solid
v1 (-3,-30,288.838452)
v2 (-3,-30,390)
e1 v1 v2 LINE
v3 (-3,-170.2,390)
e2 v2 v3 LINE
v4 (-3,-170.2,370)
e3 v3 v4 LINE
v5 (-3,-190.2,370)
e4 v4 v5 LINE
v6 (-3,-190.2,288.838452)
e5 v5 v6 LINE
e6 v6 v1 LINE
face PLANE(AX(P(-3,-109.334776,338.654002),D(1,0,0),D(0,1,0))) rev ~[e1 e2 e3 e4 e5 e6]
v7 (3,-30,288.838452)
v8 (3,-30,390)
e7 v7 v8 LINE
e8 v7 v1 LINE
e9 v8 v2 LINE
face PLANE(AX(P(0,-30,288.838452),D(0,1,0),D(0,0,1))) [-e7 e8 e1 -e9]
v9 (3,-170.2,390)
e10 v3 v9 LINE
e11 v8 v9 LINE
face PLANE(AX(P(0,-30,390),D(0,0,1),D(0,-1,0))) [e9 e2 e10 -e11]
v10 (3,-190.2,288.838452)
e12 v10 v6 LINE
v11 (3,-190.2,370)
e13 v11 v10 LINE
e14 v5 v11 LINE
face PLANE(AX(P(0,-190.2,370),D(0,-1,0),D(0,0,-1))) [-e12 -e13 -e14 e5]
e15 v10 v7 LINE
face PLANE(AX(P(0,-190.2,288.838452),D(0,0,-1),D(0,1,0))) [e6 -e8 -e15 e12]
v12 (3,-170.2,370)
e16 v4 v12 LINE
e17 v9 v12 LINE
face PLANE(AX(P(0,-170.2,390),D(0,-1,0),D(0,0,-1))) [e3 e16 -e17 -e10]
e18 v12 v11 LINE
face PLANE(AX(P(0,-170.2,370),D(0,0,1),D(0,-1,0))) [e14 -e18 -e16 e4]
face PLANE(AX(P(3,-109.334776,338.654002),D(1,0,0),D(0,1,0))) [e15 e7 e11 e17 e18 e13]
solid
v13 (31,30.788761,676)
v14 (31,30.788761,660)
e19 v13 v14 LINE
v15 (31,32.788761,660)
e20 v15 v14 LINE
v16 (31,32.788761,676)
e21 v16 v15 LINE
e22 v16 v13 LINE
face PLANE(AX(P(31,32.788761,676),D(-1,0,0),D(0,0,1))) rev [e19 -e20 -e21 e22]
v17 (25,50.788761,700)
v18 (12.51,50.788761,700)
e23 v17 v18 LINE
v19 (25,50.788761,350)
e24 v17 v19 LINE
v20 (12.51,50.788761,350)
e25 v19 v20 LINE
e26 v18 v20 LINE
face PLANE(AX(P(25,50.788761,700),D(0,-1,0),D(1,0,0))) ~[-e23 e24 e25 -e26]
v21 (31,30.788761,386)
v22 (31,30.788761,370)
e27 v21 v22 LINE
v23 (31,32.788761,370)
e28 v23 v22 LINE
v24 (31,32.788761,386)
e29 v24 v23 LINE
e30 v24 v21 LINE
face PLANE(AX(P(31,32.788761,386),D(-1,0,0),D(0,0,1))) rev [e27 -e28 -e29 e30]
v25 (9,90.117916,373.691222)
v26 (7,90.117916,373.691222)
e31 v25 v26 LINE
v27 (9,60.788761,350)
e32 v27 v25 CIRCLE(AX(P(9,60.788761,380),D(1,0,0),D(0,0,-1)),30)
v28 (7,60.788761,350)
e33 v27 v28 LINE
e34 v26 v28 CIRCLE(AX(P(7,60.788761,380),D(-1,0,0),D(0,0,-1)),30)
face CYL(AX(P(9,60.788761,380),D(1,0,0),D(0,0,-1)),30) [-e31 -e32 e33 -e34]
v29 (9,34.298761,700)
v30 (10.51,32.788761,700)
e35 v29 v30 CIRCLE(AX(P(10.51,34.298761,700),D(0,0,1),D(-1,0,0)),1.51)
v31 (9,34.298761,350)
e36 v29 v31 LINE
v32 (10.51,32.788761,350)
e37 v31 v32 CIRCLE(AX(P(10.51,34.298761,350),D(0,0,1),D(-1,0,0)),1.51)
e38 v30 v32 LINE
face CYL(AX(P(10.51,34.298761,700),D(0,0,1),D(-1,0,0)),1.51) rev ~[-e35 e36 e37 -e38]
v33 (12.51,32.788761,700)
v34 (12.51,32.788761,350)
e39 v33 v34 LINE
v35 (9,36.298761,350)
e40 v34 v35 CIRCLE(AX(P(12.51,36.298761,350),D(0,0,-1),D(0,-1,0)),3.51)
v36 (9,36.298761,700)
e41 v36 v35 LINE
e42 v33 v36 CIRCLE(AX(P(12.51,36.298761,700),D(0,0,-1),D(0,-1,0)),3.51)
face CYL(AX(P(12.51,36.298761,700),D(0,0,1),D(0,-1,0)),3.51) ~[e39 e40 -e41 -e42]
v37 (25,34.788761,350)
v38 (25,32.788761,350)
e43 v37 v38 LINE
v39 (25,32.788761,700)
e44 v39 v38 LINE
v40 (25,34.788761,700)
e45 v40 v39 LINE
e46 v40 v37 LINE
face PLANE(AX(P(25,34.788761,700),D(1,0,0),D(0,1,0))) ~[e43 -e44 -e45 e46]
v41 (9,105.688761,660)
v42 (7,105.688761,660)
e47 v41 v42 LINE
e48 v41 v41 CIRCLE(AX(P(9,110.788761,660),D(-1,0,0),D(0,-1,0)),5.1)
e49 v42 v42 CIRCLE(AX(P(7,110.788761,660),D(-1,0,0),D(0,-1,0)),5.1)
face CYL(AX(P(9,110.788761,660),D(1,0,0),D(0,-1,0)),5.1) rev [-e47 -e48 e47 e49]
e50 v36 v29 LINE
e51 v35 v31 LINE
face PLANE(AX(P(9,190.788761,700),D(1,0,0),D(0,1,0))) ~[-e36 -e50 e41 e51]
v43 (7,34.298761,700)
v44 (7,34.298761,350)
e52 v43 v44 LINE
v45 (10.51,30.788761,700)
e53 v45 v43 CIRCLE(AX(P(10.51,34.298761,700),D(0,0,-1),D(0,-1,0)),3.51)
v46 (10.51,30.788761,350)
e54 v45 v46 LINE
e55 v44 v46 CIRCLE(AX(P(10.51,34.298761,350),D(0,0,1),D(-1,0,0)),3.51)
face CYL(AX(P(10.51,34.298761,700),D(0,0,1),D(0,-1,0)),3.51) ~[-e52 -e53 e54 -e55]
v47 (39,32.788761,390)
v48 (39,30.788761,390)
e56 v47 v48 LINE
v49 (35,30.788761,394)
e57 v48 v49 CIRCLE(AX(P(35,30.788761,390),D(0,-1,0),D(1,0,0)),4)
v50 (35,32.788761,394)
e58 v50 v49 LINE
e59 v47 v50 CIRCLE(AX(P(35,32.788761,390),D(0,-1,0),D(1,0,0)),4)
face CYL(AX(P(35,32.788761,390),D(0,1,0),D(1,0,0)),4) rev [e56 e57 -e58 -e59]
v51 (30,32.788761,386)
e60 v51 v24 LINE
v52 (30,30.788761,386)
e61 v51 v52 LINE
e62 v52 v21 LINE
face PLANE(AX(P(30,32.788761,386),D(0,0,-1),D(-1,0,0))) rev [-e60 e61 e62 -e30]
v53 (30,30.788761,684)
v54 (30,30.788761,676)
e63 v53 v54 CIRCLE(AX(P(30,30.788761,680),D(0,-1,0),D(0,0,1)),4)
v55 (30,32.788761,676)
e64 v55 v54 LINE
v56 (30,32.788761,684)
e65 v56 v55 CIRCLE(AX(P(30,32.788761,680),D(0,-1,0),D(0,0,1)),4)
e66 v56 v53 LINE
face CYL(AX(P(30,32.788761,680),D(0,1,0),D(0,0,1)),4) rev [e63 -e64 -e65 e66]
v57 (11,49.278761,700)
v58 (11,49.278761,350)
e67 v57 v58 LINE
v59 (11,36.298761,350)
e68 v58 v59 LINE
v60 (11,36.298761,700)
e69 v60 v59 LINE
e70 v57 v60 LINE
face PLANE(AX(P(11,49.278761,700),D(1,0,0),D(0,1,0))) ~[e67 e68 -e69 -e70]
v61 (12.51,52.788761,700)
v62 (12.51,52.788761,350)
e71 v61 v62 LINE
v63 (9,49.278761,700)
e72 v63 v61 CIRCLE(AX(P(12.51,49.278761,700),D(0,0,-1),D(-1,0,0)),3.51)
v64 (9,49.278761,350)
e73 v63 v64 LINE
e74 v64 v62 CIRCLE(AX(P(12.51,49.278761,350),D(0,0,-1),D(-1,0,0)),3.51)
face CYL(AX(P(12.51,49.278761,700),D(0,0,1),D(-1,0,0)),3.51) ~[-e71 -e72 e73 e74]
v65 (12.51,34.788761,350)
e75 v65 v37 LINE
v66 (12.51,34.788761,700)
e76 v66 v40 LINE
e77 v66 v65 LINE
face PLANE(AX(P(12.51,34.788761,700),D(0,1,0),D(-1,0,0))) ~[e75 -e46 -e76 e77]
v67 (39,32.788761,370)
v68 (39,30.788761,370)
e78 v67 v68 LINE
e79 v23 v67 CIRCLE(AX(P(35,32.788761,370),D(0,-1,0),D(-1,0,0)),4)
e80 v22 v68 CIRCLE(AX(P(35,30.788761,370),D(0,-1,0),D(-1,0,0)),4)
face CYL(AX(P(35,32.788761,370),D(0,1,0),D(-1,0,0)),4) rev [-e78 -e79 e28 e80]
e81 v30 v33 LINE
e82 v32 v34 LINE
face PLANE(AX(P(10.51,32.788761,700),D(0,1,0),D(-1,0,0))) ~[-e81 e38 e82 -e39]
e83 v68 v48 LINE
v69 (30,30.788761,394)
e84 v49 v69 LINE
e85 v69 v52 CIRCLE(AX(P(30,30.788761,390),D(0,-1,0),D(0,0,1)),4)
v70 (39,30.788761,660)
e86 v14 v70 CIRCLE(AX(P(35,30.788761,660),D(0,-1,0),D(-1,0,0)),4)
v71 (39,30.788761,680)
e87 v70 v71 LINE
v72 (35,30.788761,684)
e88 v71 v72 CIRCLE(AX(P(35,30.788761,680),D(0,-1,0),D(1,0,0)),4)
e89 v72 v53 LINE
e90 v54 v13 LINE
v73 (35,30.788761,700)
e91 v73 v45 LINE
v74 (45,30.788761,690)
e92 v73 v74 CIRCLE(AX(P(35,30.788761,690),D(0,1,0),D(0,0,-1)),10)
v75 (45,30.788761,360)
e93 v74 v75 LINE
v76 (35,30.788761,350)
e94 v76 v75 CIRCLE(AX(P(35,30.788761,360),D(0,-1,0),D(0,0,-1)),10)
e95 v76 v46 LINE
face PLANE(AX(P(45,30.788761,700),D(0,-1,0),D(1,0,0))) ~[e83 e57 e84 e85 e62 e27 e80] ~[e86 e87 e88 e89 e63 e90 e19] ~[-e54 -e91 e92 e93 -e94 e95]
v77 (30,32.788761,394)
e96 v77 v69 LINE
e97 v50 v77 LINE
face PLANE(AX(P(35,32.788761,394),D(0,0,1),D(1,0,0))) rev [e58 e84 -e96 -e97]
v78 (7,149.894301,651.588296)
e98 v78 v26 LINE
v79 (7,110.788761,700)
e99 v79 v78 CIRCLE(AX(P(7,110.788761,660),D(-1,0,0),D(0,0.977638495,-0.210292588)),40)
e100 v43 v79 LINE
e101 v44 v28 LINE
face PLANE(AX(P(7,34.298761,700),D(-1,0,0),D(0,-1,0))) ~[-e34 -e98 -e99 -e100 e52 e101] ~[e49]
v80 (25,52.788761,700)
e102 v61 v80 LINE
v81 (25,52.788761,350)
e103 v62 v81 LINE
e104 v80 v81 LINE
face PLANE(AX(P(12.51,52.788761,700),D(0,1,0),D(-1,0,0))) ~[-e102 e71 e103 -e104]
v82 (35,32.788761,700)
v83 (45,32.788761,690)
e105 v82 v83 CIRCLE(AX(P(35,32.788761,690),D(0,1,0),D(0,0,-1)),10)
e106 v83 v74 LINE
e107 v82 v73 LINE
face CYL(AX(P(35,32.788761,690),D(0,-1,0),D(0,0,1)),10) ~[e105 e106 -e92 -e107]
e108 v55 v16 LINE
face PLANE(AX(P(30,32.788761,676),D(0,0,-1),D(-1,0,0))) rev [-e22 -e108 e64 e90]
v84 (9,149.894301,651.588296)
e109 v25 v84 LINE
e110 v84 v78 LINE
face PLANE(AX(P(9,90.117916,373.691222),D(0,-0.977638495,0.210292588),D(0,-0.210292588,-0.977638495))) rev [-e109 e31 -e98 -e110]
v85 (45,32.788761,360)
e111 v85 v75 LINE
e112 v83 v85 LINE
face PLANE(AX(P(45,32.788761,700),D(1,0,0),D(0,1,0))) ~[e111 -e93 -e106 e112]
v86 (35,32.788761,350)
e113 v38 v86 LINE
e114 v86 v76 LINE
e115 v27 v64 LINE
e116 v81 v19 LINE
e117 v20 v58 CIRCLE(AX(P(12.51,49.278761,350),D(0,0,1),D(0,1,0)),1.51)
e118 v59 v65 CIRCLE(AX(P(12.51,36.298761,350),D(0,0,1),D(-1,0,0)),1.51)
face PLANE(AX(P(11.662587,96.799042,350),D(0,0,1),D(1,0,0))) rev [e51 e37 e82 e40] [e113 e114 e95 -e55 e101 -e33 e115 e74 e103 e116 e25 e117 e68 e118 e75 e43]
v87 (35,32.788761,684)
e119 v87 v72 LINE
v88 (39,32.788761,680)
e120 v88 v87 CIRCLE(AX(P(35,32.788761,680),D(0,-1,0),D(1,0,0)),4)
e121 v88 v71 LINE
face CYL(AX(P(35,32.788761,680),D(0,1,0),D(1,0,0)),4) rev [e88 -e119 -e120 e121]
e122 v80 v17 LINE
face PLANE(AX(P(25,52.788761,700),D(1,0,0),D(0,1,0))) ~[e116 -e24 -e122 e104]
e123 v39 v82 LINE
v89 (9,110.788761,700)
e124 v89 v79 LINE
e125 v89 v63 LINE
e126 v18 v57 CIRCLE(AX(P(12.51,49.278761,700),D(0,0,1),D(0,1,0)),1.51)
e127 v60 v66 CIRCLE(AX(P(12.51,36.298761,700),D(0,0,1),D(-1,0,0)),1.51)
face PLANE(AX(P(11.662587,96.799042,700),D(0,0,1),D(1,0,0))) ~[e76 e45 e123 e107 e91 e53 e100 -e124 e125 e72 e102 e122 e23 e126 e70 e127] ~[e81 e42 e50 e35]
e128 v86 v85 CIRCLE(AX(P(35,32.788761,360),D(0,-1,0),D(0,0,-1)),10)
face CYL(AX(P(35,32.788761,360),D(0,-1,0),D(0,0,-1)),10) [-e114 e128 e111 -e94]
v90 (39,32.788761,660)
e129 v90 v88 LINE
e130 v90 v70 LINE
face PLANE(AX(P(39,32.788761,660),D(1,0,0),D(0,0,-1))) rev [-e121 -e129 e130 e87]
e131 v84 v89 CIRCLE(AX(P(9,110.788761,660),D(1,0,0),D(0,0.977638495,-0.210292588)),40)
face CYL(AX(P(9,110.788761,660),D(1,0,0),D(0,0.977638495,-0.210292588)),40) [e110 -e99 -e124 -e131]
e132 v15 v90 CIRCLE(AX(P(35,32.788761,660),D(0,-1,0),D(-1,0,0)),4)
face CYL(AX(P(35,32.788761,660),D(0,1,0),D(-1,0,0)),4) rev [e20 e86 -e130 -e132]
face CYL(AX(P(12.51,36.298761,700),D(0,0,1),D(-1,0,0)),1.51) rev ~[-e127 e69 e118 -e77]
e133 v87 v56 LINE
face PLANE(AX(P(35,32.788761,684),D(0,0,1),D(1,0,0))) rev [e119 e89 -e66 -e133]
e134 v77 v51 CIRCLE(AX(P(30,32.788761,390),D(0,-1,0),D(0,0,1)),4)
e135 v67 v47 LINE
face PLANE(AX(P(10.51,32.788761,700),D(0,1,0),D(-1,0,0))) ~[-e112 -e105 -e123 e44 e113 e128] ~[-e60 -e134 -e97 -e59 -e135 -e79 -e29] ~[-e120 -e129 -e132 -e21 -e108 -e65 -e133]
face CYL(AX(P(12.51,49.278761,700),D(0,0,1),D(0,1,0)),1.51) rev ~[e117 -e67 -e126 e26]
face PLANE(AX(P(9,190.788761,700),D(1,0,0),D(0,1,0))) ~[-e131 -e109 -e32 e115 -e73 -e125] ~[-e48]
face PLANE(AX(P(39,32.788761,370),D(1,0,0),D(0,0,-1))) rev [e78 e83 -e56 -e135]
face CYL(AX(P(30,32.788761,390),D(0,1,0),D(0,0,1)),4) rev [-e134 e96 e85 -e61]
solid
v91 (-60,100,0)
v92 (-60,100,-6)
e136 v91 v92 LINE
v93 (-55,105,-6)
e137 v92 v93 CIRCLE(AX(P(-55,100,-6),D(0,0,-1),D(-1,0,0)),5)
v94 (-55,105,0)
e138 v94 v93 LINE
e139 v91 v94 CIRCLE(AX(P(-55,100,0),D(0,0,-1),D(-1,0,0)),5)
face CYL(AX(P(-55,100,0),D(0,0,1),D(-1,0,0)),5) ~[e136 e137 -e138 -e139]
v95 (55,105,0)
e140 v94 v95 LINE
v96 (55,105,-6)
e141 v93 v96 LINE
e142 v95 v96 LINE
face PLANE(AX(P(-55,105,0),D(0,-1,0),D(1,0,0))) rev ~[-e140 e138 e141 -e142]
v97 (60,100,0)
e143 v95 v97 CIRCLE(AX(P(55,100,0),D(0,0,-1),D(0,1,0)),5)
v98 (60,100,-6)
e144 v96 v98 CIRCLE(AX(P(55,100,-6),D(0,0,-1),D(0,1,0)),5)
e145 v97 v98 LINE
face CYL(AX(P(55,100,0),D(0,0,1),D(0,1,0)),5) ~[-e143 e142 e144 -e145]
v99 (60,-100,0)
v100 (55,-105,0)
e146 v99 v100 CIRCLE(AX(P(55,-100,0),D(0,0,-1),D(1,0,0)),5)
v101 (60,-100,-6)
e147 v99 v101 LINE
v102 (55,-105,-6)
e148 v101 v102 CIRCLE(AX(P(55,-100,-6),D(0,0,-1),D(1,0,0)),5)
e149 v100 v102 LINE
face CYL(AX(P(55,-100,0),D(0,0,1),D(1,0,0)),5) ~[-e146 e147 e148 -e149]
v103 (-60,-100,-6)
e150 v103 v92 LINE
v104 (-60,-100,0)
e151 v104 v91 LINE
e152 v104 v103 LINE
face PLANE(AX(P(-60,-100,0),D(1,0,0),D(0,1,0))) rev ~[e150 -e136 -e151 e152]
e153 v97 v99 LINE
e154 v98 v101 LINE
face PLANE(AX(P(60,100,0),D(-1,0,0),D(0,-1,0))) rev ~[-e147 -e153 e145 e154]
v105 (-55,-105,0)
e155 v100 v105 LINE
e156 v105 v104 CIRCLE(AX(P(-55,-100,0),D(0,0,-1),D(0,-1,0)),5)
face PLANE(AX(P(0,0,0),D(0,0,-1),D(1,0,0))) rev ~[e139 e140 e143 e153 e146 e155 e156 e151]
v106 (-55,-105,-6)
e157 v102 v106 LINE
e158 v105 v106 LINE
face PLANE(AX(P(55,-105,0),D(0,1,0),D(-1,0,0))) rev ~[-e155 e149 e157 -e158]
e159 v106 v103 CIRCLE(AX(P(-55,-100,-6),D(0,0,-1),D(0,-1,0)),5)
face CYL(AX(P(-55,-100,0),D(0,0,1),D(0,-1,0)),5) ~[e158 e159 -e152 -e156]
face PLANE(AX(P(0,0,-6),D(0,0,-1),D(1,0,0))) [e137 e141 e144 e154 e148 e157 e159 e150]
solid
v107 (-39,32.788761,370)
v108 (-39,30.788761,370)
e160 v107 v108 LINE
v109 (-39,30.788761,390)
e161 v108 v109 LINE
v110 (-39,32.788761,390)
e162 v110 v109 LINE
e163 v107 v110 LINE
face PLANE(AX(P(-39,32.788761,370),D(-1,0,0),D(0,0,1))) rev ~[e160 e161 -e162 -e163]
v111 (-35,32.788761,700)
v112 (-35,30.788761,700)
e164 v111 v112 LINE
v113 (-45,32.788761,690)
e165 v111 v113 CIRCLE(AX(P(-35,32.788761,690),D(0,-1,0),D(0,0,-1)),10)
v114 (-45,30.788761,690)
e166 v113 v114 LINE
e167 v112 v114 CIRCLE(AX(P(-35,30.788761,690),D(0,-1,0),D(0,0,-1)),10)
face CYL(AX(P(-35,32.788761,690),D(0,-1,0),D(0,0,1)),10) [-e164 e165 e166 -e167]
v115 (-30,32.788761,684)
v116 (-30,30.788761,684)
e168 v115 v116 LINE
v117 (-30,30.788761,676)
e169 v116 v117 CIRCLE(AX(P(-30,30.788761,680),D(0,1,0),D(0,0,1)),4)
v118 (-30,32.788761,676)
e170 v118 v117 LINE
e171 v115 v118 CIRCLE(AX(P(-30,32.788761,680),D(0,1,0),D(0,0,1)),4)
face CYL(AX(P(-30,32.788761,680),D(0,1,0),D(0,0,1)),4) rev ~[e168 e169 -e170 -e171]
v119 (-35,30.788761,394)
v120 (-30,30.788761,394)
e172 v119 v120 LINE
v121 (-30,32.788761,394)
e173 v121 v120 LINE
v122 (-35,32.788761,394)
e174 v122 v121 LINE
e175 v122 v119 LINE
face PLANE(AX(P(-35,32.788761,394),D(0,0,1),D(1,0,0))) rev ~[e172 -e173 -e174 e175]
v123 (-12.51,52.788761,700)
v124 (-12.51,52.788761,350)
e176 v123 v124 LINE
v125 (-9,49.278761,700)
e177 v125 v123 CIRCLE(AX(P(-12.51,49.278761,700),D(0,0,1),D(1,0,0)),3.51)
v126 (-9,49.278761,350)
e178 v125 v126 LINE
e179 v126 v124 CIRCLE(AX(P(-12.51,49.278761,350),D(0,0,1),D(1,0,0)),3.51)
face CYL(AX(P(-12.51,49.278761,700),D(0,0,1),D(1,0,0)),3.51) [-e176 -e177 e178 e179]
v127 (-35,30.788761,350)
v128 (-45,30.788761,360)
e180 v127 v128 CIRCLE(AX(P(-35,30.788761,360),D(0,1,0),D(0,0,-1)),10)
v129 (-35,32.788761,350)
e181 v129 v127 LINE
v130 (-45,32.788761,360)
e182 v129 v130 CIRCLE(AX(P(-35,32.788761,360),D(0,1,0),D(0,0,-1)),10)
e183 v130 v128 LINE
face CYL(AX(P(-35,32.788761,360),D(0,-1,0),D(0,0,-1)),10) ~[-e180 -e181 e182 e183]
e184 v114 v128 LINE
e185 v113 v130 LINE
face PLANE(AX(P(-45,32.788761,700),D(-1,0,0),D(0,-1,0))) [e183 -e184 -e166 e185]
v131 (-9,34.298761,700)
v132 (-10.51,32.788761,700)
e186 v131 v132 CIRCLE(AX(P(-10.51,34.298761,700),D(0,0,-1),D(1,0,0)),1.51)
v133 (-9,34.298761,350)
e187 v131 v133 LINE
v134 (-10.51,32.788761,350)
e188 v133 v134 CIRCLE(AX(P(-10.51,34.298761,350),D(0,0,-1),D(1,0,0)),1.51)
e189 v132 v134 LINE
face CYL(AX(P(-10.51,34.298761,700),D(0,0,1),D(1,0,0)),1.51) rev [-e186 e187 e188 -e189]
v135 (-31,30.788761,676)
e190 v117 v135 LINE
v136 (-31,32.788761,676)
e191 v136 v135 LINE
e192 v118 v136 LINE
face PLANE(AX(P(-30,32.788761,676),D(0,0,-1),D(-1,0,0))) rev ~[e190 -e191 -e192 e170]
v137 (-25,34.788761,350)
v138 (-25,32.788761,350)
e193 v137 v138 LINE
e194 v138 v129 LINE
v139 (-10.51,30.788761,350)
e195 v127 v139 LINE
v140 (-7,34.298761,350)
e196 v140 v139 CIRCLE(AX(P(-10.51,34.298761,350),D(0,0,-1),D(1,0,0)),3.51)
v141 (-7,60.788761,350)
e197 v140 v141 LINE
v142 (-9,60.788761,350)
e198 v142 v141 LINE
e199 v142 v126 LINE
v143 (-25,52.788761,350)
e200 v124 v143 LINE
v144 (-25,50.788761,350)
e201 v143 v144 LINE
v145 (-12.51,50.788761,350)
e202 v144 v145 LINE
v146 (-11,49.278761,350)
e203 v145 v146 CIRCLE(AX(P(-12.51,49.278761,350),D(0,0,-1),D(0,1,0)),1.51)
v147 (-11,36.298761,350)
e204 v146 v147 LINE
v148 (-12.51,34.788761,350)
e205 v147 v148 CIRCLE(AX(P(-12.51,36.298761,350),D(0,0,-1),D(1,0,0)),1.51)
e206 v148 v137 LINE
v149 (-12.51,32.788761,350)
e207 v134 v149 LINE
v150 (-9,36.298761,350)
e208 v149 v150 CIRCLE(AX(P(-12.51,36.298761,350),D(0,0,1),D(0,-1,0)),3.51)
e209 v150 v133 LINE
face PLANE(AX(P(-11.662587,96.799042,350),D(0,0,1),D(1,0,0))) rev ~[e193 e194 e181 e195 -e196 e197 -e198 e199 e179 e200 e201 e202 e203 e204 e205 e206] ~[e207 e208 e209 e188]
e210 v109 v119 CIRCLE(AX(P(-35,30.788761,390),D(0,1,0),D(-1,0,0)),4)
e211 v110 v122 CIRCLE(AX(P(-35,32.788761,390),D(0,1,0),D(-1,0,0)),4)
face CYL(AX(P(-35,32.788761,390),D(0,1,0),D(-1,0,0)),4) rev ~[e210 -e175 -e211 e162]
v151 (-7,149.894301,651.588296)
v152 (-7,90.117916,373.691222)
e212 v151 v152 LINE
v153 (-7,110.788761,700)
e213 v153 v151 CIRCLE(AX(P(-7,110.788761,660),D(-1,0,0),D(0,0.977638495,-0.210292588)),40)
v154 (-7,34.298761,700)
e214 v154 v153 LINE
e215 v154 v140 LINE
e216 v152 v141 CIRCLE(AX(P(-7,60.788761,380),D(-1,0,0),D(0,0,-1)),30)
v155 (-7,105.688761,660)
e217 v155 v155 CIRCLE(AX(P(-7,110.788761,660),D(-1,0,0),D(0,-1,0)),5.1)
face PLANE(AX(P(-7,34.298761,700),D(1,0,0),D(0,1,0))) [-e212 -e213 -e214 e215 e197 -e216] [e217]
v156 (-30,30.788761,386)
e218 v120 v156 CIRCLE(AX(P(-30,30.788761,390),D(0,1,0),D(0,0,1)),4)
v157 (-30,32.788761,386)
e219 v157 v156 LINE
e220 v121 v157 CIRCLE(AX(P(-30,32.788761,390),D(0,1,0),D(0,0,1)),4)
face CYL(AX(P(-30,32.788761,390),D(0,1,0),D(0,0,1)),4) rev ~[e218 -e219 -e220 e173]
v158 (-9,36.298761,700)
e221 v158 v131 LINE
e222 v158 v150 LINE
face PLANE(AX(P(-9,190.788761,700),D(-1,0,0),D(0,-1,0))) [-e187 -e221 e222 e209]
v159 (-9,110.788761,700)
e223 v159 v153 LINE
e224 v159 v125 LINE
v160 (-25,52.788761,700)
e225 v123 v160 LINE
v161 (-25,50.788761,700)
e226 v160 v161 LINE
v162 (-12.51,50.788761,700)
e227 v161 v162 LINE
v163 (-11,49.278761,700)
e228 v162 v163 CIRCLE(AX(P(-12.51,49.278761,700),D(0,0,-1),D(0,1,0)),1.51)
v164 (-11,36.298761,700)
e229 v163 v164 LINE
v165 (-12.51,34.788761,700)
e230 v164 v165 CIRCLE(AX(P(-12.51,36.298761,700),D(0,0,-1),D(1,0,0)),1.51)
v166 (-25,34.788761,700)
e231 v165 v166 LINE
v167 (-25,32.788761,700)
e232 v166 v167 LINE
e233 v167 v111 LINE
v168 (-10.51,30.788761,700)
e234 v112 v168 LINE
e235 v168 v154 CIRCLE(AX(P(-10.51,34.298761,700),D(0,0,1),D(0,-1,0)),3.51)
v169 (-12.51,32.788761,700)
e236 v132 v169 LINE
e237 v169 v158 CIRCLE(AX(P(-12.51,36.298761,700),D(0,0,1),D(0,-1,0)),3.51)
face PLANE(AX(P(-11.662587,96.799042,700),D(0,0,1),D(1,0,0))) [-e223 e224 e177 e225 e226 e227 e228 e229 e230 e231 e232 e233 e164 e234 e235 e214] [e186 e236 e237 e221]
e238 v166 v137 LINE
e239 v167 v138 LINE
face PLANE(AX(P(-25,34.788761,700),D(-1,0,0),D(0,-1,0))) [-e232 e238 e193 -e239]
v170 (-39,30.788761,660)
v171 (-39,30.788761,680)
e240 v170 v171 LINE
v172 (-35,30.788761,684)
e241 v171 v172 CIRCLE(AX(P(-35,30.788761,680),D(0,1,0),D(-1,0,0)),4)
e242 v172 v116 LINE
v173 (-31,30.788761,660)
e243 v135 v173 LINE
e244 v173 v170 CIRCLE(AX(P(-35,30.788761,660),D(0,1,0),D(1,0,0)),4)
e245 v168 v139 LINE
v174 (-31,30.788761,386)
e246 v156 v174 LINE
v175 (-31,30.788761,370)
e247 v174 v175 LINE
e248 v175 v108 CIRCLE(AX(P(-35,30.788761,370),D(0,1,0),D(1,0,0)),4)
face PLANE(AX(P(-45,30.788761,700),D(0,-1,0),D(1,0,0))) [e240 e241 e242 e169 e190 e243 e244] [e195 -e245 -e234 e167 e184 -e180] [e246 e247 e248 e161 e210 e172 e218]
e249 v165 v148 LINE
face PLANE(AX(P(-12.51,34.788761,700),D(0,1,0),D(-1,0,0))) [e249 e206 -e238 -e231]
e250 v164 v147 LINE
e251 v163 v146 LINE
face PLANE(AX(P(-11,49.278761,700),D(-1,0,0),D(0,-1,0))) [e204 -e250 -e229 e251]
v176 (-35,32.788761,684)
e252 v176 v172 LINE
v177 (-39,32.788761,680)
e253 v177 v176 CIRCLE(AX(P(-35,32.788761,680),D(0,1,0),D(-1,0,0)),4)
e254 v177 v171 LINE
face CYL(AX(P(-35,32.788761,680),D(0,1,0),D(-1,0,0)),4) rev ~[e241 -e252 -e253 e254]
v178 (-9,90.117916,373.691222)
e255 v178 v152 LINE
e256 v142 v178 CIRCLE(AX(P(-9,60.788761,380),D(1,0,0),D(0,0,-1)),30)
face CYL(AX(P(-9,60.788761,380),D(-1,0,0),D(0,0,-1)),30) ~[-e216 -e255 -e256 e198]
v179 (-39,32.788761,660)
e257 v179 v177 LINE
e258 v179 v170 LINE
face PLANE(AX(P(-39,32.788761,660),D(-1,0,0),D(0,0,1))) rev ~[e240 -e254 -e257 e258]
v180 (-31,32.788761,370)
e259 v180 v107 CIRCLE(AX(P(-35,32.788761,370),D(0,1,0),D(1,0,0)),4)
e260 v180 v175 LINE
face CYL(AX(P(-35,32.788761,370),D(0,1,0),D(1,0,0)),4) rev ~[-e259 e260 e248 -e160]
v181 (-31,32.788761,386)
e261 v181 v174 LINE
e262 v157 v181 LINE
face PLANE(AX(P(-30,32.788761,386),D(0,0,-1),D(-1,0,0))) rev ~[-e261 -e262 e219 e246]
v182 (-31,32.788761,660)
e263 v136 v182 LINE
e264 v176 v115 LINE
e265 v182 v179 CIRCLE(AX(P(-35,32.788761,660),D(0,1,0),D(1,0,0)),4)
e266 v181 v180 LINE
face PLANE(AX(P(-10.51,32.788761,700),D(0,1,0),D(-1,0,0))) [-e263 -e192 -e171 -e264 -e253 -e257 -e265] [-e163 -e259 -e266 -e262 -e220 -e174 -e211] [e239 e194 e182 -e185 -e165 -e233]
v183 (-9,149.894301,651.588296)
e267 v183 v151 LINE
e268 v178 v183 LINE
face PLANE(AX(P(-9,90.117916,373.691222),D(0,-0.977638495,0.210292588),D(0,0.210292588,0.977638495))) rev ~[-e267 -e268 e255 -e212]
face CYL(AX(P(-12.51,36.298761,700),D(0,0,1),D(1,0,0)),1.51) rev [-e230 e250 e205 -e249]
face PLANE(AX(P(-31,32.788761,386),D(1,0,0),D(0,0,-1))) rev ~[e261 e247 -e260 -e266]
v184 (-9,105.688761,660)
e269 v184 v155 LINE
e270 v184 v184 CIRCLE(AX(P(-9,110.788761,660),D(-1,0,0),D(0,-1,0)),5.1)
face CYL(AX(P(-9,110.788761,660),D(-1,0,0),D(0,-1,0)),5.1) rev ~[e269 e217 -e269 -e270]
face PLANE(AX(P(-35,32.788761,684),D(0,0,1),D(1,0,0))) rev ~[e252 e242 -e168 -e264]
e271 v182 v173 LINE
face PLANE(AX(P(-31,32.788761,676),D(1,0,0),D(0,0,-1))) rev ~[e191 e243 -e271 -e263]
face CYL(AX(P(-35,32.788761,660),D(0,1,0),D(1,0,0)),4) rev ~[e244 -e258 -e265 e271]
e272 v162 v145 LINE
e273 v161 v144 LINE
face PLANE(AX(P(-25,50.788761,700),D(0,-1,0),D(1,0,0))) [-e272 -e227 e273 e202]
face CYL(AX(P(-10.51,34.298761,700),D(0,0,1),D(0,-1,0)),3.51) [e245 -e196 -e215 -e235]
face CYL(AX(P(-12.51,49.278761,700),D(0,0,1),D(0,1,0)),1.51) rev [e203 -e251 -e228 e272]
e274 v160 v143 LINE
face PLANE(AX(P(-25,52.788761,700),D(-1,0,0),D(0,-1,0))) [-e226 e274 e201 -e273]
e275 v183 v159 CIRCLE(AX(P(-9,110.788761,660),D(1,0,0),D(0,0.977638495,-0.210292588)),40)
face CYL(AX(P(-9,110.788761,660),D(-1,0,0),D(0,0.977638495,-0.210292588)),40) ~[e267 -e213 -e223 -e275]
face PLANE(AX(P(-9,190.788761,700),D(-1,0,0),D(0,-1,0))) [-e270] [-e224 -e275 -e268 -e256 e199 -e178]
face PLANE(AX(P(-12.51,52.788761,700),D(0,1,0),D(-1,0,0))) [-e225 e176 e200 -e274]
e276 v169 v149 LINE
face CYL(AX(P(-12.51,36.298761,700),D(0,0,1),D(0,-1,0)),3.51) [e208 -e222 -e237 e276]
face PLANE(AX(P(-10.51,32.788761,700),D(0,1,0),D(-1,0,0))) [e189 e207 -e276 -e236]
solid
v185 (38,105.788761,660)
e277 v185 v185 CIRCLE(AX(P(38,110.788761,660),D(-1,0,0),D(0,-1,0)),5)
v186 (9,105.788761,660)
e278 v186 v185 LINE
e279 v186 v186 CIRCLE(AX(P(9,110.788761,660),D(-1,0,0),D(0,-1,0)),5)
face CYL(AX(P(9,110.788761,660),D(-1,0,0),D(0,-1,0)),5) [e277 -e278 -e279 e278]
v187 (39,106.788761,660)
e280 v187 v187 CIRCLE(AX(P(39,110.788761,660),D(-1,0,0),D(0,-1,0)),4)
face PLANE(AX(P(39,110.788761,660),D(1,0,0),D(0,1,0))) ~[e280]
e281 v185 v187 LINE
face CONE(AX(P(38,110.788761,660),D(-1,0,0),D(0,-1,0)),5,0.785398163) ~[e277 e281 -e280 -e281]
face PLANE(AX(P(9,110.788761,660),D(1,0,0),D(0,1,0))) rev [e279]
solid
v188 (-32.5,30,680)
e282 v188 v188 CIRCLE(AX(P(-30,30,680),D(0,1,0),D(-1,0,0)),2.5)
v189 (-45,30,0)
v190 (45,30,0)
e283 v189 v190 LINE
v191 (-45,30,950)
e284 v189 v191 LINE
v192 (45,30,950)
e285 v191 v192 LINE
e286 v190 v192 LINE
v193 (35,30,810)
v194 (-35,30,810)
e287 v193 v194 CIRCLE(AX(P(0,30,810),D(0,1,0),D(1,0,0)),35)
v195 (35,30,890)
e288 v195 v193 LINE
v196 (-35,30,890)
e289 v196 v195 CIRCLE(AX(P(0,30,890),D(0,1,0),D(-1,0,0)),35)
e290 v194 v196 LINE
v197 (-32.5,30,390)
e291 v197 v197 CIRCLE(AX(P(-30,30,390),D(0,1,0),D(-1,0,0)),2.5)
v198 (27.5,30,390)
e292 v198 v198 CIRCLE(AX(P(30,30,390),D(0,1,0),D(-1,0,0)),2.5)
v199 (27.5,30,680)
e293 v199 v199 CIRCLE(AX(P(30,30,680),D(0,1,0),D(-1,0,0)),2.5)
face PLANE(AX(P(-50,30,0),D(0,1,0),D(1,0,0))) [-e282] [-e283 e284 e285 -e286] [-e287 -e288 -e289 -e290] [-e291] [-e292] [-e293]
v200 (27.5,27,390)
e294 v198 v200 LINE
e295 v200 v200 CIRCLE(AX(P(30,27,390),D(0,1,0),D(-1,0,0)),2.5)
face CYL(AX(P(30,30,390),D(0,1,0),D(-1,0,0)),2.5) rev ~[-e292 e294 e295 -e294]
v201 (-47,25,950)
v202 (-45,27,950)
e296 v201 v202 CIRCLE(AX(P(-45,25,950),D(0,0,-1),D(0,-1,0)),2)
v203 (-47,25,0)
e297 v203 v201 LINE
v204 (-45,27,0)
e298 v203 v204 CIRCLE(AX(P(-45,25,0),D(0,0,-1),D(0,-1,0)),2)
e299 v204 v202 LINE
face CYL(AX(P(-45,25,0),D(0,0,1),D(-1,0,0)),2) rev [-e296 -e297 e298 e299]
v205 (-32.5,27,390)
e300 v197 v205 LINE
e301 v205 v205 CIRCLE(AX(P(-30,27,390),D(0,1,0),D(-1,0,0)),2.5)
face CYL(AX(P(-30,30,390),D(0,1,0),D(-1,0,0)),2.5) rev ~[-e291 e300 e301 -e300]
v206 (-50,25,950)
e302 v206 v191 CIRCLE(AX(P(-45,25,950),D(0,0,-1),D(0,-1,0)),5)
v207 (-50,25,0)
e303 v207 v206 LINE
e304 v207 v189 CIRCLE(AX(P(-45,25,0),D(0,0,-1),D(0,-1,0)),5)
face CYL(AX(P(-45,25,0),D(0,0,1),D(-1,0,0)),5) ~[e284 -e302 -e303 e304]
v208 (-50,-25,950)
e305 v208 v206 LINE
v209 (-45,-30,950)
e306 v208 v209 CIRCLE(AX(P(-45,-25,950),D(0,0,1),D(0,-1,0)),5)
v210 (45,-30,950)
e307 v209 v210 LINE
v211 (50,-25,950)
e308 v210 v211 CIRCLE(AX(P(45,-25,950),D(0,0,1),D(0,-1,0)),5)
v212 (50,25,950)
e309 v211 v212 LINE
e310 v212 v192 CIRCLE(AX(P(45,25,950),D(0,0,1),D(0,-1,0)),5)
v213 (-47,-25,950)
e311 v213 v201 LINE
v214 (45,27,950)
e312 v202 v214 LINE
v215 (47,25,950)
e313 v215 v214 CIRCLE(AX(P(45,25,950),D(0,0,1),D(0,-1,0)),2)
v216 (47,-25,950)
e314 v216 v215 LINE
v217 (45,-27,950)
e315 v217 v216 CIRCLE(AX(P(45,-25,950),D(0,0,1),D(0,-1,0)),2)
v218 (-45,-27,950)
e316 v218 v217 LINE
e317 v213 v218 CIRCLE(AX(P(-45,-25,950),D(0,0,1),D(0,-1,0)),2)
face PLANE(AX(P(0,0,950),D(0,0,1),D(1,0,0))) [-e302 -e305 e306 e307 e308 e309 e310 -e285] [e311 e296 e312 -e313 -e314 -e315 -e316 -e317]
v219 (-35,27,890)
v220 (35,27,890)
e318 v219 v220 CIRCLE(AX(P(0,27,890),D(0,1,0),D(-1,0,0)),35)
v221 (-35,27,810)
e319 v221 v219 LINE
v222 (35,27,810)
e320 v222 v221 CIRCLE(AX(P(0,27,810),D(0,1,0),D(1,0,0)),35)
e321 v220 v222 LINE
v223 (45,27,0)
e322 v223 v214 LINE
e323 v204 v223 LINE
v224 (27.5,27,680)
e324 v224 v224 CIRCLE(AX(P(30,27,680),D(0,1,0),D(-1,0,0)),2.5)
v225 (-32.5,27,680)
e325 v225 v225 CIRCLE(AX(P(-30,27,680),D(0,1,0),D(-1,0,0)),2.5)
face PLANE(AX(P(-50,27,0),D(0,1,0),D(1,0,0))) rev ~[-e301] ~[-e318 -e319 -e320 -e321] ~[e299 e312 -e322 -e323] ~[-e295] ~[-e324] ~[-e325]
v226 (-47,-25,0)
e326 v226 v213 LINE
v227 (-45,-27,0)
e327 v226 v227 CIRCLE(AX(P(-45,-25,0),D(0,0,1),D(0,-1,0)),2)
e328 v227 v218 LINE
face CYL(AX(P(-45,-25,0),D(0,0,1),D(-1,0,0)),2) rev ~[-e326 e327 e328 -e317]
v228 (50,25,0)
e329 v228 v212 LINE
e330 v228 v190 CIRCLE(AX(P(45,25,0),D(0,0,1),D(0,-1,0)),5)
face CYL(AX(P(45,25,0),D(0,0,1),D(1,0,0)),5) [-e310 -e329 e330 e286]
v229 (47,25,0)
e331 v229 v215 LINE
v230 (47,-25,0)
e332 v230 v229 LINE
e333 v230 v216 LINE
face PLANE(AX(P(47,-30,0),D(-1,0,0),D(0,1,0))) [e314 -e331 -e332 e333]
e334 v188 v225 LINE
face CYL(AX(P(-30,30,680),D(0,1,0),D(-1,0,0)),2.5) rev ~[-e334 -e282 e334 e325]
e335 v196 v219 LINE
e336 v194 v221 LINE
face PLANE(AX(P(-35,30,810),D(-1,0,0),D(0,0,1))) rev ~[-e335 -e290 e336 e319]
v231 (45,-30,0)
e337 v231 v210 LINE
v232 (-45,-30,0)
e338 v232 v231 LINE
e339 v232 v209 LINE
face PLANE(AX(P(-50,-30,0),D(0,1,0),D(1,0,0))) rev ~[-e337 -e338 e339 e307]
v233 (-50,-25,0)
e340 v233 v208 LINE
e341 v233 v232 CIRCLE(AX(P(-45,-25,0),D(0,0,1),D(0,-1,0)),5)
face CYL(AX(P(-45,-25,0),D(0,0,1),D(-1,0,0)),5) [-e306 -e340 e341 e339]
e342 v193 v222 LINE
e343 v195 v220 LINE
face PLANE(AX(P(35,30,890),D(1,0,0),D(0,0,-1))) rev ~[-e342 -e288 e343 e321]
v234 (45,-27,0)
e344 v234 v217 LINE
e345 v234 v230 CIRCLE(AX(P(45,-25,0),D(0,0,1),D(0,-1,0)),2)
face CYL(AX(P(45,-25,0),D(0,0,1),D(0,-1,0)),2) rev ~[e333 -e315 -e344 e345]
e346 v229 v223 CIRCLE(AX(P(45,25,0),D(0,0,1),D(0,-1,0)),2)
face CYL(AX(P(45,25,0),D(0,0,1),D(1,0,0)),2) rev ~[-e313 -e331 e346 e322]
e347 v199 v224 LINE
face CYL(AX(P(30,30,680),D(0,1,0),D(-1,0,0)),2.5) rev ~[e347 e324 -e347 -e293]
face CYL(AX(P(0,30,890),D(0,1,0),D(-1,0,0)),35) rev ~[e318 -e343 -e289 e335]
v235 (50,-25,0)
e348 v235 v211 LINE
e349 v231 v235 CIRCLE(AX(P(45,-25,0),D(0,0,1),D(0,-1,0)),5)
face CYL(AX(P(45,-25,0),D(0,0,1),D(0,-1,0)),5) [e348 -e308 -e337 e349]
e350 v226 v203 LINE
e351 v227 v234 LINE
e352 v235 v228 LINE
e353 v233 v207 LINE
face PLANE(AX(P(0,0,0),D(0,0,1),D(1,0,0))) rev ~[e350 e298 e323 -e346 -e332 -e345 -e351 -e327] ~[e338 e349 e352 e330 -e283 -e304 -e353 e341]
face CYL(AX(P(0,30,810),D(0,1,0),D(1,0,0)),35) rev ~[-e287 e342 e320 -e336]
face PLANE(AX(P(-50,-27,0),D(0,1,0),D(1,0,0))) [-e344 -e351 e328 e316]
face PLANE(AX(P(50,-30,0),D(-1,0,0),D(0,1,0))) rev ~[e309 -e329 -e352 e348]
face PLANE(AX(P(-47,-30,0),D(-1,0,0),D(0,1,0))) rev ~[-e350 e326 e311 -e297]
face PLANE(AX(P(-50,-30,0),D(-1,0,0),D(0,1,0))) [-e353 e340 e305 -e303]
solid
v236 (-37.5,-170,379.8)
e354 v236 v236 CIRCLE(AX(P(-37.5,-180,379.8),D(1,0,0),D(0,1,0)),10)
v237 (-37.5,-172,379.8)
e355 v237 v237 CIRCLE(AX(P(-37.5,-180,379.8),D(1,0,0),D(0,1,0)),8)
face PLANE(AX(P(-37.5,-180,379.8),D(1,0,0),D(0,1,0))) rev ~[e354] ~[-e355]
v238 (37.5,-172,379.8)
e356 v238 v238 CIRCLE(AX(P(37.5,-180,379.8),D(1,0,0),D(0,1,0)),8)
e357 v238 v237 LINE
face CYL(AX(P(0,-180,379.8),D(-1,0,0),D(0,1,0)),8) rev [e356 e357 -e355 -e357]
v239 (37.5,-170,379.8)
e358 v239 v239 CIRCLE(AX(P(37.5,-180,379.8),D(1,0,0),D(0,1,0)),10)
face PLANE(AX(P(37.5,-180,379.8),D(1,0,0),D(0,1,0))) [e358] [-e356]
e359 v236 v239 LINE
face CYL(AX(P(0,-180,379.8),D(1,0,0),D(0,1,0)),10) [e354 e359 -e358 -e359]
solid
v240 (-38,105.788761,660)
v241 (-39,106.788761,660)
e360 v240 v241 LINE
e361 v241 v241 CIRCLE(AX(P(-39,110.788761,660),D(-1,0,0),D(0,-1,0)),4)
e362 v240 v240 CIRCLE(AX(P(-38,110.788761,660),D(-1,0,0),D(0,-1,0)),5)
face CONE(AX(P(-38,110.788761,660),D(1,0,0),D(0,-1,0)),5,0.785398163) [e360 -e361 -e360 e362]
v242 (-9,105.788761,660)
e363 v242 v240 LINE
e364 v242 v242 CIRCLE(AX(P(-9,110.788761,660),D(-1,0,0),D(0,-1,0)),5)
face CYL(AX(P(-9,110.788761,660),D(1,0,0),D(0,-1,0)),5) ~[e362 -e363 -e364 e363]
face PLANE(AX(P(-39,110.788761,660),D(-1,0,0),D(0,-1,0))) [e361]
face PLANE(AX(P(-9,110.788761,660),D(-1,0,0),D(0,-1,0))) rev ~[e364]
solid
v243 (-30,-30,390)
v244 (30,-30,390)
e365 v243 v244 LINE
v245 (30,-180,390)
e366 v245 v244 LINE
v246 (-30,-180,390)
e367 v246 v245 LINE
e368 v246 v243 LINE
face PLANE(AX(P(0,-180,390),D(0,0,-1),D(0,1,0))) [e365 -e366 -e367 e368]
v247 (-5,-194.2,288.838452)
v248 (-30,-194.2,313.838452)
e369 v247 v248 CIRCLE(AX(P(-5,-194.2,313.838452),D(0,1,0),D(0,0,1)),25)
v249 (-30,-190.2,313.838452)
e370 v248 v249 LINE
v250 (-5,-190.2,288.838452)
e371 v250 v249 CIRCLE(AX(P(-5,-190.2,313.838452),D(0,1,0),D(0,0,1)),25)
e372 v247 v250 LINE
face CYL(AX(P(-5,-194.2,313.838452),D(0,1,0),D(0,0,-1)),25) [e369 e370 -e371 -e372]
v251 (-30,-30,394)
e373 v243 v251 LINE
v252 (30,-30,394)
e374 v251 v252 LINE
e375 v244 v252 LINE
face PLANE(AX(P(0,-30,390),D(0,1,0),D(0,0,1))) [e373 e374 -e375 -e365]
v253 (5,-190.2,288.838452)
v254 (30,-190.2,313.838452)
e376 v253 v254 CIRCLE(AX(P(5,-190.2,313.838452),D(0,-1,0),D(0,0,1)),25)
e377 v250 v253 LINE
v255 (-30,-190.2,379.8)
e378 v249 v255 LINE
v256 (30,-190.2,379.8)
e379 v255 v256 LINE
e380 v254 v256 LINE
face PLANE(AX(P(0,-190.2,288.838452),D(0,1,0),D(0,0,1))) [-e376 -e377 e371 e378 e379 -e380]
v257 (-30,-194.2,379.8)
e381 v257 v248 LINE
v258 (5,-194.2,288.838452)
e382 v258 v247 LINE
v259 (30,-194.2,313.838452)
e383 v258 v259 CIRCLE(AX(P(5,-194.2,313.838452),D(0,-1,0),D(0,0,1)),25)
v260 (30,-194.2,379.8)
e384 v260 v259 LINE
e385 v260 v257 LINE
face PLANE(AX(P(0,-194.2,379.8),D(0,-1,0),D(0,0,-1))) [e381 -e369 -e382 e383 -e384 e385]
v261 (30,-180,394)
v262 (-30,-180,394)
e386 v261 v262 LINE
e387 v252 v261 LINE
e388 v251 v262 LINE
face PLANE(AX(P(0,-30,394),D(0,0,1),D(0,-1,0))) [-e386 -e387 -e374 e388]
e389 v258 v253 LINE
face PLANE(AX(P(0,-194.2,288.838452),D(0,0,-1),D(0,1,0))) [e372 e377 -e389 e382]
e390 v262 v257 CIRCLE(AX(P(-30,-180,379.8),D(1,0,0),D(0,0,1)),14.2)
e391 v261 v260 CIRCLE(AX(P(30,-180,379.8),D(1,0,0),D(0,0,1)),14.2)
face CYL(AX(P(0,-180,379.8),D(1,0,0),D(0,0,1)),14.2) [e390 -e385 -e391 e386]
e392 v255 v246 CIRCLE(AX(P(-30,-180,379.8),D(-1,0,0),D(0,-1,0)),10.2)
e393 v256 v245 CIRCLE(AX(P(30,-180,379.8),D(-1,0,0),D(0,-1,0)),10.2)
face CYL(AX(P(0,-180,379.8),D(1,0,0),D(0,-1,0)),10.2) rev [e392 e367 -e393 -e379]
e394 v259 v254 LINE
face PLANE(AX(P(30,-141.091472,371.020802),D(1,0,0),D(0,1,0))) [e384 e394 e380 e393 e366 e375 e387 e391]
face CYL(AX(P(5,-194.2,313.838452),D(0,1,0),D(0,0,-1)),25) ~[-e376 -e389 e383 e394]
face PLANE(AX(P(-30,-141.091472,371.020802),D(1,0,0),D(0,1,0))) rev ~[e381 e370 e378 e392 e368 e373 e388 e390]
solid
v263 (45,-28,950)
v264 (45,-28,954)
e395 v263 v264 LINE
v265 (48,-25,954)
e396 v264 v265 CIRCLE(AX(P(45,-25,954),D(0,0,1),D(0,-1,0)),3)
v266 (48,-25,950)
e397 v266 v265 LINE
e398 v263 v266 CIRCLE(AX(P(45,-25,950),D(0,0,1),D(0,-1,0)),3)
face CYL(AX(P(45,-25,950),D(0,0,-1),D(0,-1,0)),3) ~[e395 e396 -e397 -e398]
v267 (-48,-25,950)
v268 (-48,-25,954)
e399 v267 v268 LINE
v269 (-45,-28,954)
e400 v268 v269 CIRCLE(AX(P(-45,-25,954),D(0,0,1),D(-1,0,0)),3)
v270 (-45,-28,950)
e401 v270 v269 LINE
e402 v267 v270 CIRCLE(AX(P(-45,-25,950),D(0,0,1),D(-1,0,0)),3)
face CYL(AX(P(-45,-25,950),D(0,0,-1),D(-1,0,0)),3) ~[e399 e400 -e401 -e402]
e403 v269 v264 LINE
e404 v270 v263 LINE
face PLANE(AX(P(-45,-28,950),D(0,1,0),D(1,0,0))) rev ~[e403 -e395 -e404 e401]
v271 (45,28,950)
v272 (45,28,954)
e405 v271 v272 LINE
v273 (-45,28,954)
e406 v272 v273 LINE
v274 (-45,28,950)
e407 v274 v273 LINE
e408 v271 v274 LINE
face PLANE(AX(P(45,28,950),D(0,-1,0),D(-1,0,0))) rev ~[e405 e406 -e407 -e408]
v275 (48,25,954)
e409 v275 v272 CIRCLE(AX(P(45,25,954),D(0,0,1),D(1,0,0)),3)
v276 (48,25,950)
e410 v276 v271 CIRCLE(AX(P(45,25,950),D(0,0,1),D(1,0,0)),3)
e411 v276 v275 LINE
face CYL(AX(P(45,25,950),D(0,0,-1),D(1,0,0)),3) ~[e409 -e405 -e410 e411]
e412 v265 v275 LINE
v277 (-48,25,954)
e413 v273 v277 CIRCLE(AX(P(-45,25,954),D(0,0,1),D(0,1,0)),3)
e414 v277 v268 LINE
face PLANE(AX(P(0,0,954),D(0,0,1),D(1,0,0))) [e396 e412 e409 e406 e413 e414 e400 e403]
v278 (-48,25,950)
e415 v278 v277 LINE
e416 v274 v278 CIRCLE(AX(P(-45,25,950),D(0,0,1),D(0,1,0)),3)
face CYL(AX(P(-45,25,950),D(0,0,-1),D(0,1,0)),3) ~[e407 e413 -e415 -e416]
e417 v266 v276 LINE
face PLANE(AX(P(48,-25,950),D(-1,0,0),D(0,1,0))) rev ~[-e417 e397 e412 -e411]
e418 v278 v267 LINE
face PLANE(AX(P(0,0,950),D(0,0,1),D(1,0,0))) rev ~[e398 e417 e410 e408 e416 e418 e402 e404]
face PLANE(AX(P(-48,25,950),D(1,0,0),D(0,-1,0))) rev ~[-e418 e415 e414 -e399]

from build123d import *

# Parameters (mm, degrees)
F0_W      = 100
F0_H      = 60
F1_DEPTH  = 950
F2_R      = 5
F3_T      = -3
F5_DEPTH  = 25
F7_DEPTH  = 4
F10_DEPTH = 350
F12_R     = 5.1
F13_DEPTH = 25
F14_R     = 10
F16_DEPTH = 2
F18_DEPTH = 6
F19_R     = 5
F20_DEPTH = 30
F22_SIZE  = 1
F23_DEPTH = 350
F25_R     = 2.5
F26_DEPTH = 3
F28_DEPTH = 30
F30_DEPTH = 3
F31_R     = 10
F31_R_2   = 8
F32_DEPTH = 37.5
F33_R     = 25


with BuildPart() as f1:
    # F0 (on Top) → F1 (new body)
    with BuildSketch(Plane.XY):
        Rectangle(F0_W, F0_H)
    extrude(amount=F1_DEPTH)

    # F2
    f2_edges = [f1.edges().sort_by_distance(p)[0] for p in [
        (-50, -30, 475),
        (-50, 30, 475),
        (50, -30, 475),
        (50, 30, 475),
    ]]
    fillet(f2_edges, radius=F2_R)

    # F3
    f3_openings = [f1.faces().sort_by_distance(p)[0] for p in [
        (0, 0, 0),
        (0, 0, 950),
    ]]
    offset(amount=F3_T, openings=f3_openings)

    # F4 (on face) → F5 (cut)
    with BuildSketch(Plane(origin=(0, 30, 0), x_dir=(-1, 0, 0), z_dir=(0, 1, 0))):
        with BuildLine():
            ThreePointArc((35, 890), (0, 925), (-35, 890))
            Line((-35, 890), (-35, 810))
            ThreePointArc((-35, 810), (0, 775), (35, 810))
            Line((35, 810), (35, 890))
        make_face()
    extrude(amount=-F5_DEPTH, mode=Mode.SUBTRACT)

    # F25 (on face) → F26 (cut, through all)
    with BuildSketch(Plane(origin=(0, 30, 0), x_dir=(-1, 0, 0), z_dir=(0, 1, 0))):
        with Locations((-30, 680)):
            Circle(F25_R)
        with Locations((30, 680)):
            Circle(F25_R)
        with Locations((-30, 390)):
            Circle(F25_R)
        with Locations((30, 390)):
            Circle(F25_R)
    extrude(amount=-F26_DEPTH, mode=Mode.SUBTRACT)


with BuildPart() as f7:
    # F6 (on face) → F7 (new body)
    with BuildSketch(Plane.XY.offset(950)):
        with BuildLine():
            Line((45, 28), (-45, 28))
            ThreePointArc((-45, 28), (-47.1213203436, 27.1213203436), (-48, 25))
            Line((-48, 25), (-48, -25))
            ThreePointArc((-48, -25), (-47.1213203436, -27.1213203436), (-45, -28))
            Line((-45, -28), (45, -28))
            ThreePointArc((45, -28), (47.1213203436, -27.1213203436), (48, -25))
            Line((48, -25), (48, 25))
            ThreePointArc((48, 25), (47.1213203436, 27.1213203436), (45, 28))
        make_face()
        with BuildLine():
            ThreePointArc((47, -25), (46.4142135624, -26.4142135624), (45, -27))
            Line((45, -27), (-45, -27))
            ThreePointArc((-45, -27), (-46.4142135624, -26.4142135624), (-47, -25))
            Line((-47, -25), (-47, 25))
            ThreePointArc((-47, 25), (-46.4142135624, 26.4142135624), (-45, 27))
            Line((-45, 27), (45, 27))
            ThreePointArc((45, 27), (46.4142135624, 26.4142135624), (47, 25))
            Line((47, 25), (47, -25))
        make_face(mode=Mode.SUBTRACT)
        with BuildLine():
            Line((-45, -27), (45, -27))
            ThreePointArc((45, -27), (46.4142135624, -26.4142135624), (47, -25))
            Line((47, -25), (47, 25))
            ThreePointArc((47, 25), (46.4142135624, 26.4142135624), (45, 27))
            Line((45, 27), (-45, 27))
            ThreePointArc((-45, 27), (-46.4142135624, 26.4142135624), (-47, 25))
            Line((-47, 25), (-47, -25))
            ThreePointArc((-47, -25), (-46.4142135624, -26.4142135624), (-45, -27))
        make_face()
    extrude(amount=F7_DEPTH)


with BuildPart() as f10:
    # F9 (on offset) → F10 (new body)
    with BuildSketch(Plane.XY.offset(700)):
        with BuildLine():
            Line((-10.51, 32.7887609601), (-45, 32.7887609601))
            Line((-45, 32.7887609601), (-45, 30.7887609601))
            Line((-45, 30.7887609601), (-10.51, 30.7887609601))
            ThreePointArc((-10.51, 30.7887609601), (-8.028055198, 31.8168161581), (-7, 34.2987609601))
            Line((-7, 34.2987609601), (-7, 190.7887609601))
            Line((-7, 190.7887609601), (-9, 190.7887609601))
            Line((-9, 190.7887609601), (-9, 34.2987609601))
            ThreePointArc((-9, 34.2987609601), (-9.4422687604, 33.2310297205), (-10.51, 32.7887609601))
        make_face()
    extrude(amount=-F10_DEPTH)

    # F12 (on face) → F13 (cut)
    with BuildSketch(Plane(origin=(-9, 0, 0), x_dir=(0, -1, 0), z_dir=(-1, 0, 0))):
        with BuildLine():
            Line((-110.7887609601, 700), (-30.7887609601, 700))
            Line((-30.7887609601, 700), (-30.7887609601, 788.1834506989))
            Line((-30.7887609601, 788.1834506989), (-387.8864347935, 788.1834506989))
            Line((-387.8864347935, 788.1834506989), (-387.8864347935, 182.9112367149))
            Line((-387.8864347935, 182.9112367149), (-30.7887609601, 182.9112367149))
            Line((-30.7887609601, 182.9112367149), (-30.7887609601, 350))
            Line((-30.7887609601, 350), (-60.7887609601, 350))
            ThreePointArc((-60.7887609601, 350), (-79.6399767089, 356.6626551469), (-90.1179158154, 373.6912223473))
            Line((-90.1179158154, 373.6912223473), (-149.8943007672, 651.588296463))
            ThreePointArc((-149.8943007672, 651.588296463), (-141.9052207642, 685.1349543318), (-110.7887609601, 700))
        make_face()
        with Locations((-110.7887609601, 660)):
            Circle(F12_R)
    extrude(amount=-F13_DEPTH, mode=Mode.SUBTRACT)

    # F14
    f14_edges = [f10.edges().sort_by_distance(p)[0] for p in [
        (-45, 31.788761, 700),
        (-45, 31.788761, 350),
    ]]
    fillet(f14_edges, radius=F14_R)

    # F15 (on face) → F16 (cut, through all)
    with BuildSketch(Plane(origin=(0, 32.7887609601, 0), x_dir=(-1, 0, 0), z_dir=(0, 1, 0))):
        with BuildLine():
            ThreePointArc((39, 680), (37.8284271247, 682.8284271247), (35, 684))
            Line((35, 684), (30, 684))
            ThreePointArc((30, 684), (26, 680), (30, 676))
            Line((30, 676), (31, 676))
            Line((31, 676), (31, 660))
            ThreePointArc((31, 660), (35, 656), (39, 660))
            Line((39, 660), (39, 680))
        make_face()
        with BuildLine():
            ThreePointArc((31, 370), (35, 366), (39, 370))
            Line((39, 370), (39, 390))
            ThreePointArc((39, 390), (37.8284271247, 392.8284271247), (35, 394))
            Line((35, 394), (30, 394))
            ThreePointArc((30, 394), (26, 390), (30, 386))
            Line((30, 386), (31, 386))
            Line((31, 386), (31, 370))
        make_face()
    extrude(amount=-F16_DEPTH, mode=Mode.SUBTRACT)

    # F21 (on offset) → F23 (join)
    with BuildSketch(Plane.XY.offset(700)):
        with BuildLine():
            Line((-25, 34.7887609601), (-25, 32.7887609601))
            Line((-25, 32.7887609601), (-12.51, 32.7887609601))
            ThreePointArc((-12.51, 32.7887609601), (-10.028055198, 33.8168161581), (-9, 36.2987609601))
            Line((-9, 36.2987609601), (-9, 49.2787609601))
            ThreePointArc((-9, 49.2787609601), (-10.028055198, 51.7607057621), (-12.51, 52.7887609601))
            Line((-12.51, 52.7887609601), (-25, 52.7887609601))
            Line((-25, 52.7887609601), (-25, 50.7887609601))
            Line((-25, 50.7887609601), (-12.51, 50.7887609601))
            ThreePointArc((-12.51, 50.7887609601), (-11.4422687604, 50.3464921997), (-11, 49.2787609601))
            Line((-11, 49.2787609601), (-11, 36.2987609601))
            ThreePointArc((-11, 36.2987609601), (-11.4422687604, 35.2310297205), (-12.51, 34.7887609601))
            Line((-12.51, 34.7887609601), (-25, 34.7887609601))
        make_face()
    extrude(amount=-F23_DEPTH)


with BuildPart() as f18:
    # F17 (on face) → F18 (new body)
    with BuildSketch(Plane(origin=(0, 0, 0), x_dir=(1, 0, 0), z_dir=(0, 0, -1))):
        with BuildLine():
            Line((55, 105), (-55, 105))
            ThreePointArc((-55, 105), (-58.5355339059, 103.5355339059), (-60, 100))
            Line((-60, 100), (-60, -100))
            ThreePointArc((-60, -100), (-58.5355339059, -103.5355339059), (-55, -105))
            Line((-55, -105), (55, -105))
            ThreePointArc((55, -105), (58.5355339059, -103.5355339059), (60, -100))
            Line((60, -100), (60, 100))
            ThreePointArc((60, 100), (58.5355339059, 103.5355339059), (55, 105))
        make_face()
    extrude(amount=F18_DEPTH)


with BuildPart() as f20:
    # F19 (on face) → F20 (new body)
    with BuildSketch(Plane(origin=(-9, 0, 0), x_dir=(0, -1, 0), z_dir=(-1, 0, 0))):
        with Locations((-110.7887609601, 660)):
            Circle(F19_R)
    extrude(amount=F20_DEPTH)

    # F22
    f22_edges = [f20.edges().sort_by_distance(p)[0] for p in [
        (-39, 115.788761, 660),
    ]]
    chamfer(f22_edges, length=F22_SIZE)


with BuildPart() as f24_1:
    # F24: instance of F10
    add(f10.part.mirror(Plane.YZ))


with BuildPart() as f24_2:
    # F24: instance of F20
    add(f20.part.mirror(Plane.YZ))


with BuildPart() as f28:
    # F27 (on Right) → F28 (new body, symmetric)
    with BuildSketch(Plane.YZ):
        with BuildLine():
            Line((-194.2, 288.8384518319), (-190.2, 288.8384518319))
            Line((-190.2, 288.8384518319), (-190.2, 379.8))
            ThreePointArc((-190.2, 379.8), (-187.2124891681, 387.0124891681), (-180, 390))
            Line((-180, 390), (-30, 390))
            Line((-30, 390), (-30, 394))
            Line((-30, 394), (-180, 394))
            ThreePointArc((-180, 394), (-190.0409162928, 389.8409162928), (-194.2, 379.8))
            Line((-194.2, 379.8), (-194.2, 288.8384518319))
        make_face()
    extrude(amount=F28_DEPTH, both=True)

    # F33
    f33_edges = [f28.edges().sort_by_distance(p)[0] for p in [
        (30, -192.2, 288.838452),
        (-30, -192.2, 288.838452),
    ]]
    fillet(f33_edges, radius=F33_R)


with BuildPart() as f30:
    # F29 (on Right) → F30 (new body, symmetric)
    with BuildSketch(Plane.YZ):
        Polygon((-30, 390), (-170.2, 390), (-170.2, 370), (-190.2, 370), (-190.2, 288.8384518319), (-30, 288.8384518319), align=None)
    extrude(amount=F30_DEPTH, both=True)


with BuildPart() as f32:
    # F31 (on Right) → F32 (new body, symmetric)
    with BuildSketch(Plane.YZ):
        with Locations((-180, 379.8)):
            Circle(F31_R)
        with Locations((-180, 379.8)):
            Circle(F31_R_2, mode=Mode.SUBTRACT)
    extrude(amount=F32_DEPTH, both=True)


solid = Compound([f1.part, f7.part, f10.part, f18.part, f20.part, f24_1.part, f24_2.part, f28.part, f30.part, f32.part])
